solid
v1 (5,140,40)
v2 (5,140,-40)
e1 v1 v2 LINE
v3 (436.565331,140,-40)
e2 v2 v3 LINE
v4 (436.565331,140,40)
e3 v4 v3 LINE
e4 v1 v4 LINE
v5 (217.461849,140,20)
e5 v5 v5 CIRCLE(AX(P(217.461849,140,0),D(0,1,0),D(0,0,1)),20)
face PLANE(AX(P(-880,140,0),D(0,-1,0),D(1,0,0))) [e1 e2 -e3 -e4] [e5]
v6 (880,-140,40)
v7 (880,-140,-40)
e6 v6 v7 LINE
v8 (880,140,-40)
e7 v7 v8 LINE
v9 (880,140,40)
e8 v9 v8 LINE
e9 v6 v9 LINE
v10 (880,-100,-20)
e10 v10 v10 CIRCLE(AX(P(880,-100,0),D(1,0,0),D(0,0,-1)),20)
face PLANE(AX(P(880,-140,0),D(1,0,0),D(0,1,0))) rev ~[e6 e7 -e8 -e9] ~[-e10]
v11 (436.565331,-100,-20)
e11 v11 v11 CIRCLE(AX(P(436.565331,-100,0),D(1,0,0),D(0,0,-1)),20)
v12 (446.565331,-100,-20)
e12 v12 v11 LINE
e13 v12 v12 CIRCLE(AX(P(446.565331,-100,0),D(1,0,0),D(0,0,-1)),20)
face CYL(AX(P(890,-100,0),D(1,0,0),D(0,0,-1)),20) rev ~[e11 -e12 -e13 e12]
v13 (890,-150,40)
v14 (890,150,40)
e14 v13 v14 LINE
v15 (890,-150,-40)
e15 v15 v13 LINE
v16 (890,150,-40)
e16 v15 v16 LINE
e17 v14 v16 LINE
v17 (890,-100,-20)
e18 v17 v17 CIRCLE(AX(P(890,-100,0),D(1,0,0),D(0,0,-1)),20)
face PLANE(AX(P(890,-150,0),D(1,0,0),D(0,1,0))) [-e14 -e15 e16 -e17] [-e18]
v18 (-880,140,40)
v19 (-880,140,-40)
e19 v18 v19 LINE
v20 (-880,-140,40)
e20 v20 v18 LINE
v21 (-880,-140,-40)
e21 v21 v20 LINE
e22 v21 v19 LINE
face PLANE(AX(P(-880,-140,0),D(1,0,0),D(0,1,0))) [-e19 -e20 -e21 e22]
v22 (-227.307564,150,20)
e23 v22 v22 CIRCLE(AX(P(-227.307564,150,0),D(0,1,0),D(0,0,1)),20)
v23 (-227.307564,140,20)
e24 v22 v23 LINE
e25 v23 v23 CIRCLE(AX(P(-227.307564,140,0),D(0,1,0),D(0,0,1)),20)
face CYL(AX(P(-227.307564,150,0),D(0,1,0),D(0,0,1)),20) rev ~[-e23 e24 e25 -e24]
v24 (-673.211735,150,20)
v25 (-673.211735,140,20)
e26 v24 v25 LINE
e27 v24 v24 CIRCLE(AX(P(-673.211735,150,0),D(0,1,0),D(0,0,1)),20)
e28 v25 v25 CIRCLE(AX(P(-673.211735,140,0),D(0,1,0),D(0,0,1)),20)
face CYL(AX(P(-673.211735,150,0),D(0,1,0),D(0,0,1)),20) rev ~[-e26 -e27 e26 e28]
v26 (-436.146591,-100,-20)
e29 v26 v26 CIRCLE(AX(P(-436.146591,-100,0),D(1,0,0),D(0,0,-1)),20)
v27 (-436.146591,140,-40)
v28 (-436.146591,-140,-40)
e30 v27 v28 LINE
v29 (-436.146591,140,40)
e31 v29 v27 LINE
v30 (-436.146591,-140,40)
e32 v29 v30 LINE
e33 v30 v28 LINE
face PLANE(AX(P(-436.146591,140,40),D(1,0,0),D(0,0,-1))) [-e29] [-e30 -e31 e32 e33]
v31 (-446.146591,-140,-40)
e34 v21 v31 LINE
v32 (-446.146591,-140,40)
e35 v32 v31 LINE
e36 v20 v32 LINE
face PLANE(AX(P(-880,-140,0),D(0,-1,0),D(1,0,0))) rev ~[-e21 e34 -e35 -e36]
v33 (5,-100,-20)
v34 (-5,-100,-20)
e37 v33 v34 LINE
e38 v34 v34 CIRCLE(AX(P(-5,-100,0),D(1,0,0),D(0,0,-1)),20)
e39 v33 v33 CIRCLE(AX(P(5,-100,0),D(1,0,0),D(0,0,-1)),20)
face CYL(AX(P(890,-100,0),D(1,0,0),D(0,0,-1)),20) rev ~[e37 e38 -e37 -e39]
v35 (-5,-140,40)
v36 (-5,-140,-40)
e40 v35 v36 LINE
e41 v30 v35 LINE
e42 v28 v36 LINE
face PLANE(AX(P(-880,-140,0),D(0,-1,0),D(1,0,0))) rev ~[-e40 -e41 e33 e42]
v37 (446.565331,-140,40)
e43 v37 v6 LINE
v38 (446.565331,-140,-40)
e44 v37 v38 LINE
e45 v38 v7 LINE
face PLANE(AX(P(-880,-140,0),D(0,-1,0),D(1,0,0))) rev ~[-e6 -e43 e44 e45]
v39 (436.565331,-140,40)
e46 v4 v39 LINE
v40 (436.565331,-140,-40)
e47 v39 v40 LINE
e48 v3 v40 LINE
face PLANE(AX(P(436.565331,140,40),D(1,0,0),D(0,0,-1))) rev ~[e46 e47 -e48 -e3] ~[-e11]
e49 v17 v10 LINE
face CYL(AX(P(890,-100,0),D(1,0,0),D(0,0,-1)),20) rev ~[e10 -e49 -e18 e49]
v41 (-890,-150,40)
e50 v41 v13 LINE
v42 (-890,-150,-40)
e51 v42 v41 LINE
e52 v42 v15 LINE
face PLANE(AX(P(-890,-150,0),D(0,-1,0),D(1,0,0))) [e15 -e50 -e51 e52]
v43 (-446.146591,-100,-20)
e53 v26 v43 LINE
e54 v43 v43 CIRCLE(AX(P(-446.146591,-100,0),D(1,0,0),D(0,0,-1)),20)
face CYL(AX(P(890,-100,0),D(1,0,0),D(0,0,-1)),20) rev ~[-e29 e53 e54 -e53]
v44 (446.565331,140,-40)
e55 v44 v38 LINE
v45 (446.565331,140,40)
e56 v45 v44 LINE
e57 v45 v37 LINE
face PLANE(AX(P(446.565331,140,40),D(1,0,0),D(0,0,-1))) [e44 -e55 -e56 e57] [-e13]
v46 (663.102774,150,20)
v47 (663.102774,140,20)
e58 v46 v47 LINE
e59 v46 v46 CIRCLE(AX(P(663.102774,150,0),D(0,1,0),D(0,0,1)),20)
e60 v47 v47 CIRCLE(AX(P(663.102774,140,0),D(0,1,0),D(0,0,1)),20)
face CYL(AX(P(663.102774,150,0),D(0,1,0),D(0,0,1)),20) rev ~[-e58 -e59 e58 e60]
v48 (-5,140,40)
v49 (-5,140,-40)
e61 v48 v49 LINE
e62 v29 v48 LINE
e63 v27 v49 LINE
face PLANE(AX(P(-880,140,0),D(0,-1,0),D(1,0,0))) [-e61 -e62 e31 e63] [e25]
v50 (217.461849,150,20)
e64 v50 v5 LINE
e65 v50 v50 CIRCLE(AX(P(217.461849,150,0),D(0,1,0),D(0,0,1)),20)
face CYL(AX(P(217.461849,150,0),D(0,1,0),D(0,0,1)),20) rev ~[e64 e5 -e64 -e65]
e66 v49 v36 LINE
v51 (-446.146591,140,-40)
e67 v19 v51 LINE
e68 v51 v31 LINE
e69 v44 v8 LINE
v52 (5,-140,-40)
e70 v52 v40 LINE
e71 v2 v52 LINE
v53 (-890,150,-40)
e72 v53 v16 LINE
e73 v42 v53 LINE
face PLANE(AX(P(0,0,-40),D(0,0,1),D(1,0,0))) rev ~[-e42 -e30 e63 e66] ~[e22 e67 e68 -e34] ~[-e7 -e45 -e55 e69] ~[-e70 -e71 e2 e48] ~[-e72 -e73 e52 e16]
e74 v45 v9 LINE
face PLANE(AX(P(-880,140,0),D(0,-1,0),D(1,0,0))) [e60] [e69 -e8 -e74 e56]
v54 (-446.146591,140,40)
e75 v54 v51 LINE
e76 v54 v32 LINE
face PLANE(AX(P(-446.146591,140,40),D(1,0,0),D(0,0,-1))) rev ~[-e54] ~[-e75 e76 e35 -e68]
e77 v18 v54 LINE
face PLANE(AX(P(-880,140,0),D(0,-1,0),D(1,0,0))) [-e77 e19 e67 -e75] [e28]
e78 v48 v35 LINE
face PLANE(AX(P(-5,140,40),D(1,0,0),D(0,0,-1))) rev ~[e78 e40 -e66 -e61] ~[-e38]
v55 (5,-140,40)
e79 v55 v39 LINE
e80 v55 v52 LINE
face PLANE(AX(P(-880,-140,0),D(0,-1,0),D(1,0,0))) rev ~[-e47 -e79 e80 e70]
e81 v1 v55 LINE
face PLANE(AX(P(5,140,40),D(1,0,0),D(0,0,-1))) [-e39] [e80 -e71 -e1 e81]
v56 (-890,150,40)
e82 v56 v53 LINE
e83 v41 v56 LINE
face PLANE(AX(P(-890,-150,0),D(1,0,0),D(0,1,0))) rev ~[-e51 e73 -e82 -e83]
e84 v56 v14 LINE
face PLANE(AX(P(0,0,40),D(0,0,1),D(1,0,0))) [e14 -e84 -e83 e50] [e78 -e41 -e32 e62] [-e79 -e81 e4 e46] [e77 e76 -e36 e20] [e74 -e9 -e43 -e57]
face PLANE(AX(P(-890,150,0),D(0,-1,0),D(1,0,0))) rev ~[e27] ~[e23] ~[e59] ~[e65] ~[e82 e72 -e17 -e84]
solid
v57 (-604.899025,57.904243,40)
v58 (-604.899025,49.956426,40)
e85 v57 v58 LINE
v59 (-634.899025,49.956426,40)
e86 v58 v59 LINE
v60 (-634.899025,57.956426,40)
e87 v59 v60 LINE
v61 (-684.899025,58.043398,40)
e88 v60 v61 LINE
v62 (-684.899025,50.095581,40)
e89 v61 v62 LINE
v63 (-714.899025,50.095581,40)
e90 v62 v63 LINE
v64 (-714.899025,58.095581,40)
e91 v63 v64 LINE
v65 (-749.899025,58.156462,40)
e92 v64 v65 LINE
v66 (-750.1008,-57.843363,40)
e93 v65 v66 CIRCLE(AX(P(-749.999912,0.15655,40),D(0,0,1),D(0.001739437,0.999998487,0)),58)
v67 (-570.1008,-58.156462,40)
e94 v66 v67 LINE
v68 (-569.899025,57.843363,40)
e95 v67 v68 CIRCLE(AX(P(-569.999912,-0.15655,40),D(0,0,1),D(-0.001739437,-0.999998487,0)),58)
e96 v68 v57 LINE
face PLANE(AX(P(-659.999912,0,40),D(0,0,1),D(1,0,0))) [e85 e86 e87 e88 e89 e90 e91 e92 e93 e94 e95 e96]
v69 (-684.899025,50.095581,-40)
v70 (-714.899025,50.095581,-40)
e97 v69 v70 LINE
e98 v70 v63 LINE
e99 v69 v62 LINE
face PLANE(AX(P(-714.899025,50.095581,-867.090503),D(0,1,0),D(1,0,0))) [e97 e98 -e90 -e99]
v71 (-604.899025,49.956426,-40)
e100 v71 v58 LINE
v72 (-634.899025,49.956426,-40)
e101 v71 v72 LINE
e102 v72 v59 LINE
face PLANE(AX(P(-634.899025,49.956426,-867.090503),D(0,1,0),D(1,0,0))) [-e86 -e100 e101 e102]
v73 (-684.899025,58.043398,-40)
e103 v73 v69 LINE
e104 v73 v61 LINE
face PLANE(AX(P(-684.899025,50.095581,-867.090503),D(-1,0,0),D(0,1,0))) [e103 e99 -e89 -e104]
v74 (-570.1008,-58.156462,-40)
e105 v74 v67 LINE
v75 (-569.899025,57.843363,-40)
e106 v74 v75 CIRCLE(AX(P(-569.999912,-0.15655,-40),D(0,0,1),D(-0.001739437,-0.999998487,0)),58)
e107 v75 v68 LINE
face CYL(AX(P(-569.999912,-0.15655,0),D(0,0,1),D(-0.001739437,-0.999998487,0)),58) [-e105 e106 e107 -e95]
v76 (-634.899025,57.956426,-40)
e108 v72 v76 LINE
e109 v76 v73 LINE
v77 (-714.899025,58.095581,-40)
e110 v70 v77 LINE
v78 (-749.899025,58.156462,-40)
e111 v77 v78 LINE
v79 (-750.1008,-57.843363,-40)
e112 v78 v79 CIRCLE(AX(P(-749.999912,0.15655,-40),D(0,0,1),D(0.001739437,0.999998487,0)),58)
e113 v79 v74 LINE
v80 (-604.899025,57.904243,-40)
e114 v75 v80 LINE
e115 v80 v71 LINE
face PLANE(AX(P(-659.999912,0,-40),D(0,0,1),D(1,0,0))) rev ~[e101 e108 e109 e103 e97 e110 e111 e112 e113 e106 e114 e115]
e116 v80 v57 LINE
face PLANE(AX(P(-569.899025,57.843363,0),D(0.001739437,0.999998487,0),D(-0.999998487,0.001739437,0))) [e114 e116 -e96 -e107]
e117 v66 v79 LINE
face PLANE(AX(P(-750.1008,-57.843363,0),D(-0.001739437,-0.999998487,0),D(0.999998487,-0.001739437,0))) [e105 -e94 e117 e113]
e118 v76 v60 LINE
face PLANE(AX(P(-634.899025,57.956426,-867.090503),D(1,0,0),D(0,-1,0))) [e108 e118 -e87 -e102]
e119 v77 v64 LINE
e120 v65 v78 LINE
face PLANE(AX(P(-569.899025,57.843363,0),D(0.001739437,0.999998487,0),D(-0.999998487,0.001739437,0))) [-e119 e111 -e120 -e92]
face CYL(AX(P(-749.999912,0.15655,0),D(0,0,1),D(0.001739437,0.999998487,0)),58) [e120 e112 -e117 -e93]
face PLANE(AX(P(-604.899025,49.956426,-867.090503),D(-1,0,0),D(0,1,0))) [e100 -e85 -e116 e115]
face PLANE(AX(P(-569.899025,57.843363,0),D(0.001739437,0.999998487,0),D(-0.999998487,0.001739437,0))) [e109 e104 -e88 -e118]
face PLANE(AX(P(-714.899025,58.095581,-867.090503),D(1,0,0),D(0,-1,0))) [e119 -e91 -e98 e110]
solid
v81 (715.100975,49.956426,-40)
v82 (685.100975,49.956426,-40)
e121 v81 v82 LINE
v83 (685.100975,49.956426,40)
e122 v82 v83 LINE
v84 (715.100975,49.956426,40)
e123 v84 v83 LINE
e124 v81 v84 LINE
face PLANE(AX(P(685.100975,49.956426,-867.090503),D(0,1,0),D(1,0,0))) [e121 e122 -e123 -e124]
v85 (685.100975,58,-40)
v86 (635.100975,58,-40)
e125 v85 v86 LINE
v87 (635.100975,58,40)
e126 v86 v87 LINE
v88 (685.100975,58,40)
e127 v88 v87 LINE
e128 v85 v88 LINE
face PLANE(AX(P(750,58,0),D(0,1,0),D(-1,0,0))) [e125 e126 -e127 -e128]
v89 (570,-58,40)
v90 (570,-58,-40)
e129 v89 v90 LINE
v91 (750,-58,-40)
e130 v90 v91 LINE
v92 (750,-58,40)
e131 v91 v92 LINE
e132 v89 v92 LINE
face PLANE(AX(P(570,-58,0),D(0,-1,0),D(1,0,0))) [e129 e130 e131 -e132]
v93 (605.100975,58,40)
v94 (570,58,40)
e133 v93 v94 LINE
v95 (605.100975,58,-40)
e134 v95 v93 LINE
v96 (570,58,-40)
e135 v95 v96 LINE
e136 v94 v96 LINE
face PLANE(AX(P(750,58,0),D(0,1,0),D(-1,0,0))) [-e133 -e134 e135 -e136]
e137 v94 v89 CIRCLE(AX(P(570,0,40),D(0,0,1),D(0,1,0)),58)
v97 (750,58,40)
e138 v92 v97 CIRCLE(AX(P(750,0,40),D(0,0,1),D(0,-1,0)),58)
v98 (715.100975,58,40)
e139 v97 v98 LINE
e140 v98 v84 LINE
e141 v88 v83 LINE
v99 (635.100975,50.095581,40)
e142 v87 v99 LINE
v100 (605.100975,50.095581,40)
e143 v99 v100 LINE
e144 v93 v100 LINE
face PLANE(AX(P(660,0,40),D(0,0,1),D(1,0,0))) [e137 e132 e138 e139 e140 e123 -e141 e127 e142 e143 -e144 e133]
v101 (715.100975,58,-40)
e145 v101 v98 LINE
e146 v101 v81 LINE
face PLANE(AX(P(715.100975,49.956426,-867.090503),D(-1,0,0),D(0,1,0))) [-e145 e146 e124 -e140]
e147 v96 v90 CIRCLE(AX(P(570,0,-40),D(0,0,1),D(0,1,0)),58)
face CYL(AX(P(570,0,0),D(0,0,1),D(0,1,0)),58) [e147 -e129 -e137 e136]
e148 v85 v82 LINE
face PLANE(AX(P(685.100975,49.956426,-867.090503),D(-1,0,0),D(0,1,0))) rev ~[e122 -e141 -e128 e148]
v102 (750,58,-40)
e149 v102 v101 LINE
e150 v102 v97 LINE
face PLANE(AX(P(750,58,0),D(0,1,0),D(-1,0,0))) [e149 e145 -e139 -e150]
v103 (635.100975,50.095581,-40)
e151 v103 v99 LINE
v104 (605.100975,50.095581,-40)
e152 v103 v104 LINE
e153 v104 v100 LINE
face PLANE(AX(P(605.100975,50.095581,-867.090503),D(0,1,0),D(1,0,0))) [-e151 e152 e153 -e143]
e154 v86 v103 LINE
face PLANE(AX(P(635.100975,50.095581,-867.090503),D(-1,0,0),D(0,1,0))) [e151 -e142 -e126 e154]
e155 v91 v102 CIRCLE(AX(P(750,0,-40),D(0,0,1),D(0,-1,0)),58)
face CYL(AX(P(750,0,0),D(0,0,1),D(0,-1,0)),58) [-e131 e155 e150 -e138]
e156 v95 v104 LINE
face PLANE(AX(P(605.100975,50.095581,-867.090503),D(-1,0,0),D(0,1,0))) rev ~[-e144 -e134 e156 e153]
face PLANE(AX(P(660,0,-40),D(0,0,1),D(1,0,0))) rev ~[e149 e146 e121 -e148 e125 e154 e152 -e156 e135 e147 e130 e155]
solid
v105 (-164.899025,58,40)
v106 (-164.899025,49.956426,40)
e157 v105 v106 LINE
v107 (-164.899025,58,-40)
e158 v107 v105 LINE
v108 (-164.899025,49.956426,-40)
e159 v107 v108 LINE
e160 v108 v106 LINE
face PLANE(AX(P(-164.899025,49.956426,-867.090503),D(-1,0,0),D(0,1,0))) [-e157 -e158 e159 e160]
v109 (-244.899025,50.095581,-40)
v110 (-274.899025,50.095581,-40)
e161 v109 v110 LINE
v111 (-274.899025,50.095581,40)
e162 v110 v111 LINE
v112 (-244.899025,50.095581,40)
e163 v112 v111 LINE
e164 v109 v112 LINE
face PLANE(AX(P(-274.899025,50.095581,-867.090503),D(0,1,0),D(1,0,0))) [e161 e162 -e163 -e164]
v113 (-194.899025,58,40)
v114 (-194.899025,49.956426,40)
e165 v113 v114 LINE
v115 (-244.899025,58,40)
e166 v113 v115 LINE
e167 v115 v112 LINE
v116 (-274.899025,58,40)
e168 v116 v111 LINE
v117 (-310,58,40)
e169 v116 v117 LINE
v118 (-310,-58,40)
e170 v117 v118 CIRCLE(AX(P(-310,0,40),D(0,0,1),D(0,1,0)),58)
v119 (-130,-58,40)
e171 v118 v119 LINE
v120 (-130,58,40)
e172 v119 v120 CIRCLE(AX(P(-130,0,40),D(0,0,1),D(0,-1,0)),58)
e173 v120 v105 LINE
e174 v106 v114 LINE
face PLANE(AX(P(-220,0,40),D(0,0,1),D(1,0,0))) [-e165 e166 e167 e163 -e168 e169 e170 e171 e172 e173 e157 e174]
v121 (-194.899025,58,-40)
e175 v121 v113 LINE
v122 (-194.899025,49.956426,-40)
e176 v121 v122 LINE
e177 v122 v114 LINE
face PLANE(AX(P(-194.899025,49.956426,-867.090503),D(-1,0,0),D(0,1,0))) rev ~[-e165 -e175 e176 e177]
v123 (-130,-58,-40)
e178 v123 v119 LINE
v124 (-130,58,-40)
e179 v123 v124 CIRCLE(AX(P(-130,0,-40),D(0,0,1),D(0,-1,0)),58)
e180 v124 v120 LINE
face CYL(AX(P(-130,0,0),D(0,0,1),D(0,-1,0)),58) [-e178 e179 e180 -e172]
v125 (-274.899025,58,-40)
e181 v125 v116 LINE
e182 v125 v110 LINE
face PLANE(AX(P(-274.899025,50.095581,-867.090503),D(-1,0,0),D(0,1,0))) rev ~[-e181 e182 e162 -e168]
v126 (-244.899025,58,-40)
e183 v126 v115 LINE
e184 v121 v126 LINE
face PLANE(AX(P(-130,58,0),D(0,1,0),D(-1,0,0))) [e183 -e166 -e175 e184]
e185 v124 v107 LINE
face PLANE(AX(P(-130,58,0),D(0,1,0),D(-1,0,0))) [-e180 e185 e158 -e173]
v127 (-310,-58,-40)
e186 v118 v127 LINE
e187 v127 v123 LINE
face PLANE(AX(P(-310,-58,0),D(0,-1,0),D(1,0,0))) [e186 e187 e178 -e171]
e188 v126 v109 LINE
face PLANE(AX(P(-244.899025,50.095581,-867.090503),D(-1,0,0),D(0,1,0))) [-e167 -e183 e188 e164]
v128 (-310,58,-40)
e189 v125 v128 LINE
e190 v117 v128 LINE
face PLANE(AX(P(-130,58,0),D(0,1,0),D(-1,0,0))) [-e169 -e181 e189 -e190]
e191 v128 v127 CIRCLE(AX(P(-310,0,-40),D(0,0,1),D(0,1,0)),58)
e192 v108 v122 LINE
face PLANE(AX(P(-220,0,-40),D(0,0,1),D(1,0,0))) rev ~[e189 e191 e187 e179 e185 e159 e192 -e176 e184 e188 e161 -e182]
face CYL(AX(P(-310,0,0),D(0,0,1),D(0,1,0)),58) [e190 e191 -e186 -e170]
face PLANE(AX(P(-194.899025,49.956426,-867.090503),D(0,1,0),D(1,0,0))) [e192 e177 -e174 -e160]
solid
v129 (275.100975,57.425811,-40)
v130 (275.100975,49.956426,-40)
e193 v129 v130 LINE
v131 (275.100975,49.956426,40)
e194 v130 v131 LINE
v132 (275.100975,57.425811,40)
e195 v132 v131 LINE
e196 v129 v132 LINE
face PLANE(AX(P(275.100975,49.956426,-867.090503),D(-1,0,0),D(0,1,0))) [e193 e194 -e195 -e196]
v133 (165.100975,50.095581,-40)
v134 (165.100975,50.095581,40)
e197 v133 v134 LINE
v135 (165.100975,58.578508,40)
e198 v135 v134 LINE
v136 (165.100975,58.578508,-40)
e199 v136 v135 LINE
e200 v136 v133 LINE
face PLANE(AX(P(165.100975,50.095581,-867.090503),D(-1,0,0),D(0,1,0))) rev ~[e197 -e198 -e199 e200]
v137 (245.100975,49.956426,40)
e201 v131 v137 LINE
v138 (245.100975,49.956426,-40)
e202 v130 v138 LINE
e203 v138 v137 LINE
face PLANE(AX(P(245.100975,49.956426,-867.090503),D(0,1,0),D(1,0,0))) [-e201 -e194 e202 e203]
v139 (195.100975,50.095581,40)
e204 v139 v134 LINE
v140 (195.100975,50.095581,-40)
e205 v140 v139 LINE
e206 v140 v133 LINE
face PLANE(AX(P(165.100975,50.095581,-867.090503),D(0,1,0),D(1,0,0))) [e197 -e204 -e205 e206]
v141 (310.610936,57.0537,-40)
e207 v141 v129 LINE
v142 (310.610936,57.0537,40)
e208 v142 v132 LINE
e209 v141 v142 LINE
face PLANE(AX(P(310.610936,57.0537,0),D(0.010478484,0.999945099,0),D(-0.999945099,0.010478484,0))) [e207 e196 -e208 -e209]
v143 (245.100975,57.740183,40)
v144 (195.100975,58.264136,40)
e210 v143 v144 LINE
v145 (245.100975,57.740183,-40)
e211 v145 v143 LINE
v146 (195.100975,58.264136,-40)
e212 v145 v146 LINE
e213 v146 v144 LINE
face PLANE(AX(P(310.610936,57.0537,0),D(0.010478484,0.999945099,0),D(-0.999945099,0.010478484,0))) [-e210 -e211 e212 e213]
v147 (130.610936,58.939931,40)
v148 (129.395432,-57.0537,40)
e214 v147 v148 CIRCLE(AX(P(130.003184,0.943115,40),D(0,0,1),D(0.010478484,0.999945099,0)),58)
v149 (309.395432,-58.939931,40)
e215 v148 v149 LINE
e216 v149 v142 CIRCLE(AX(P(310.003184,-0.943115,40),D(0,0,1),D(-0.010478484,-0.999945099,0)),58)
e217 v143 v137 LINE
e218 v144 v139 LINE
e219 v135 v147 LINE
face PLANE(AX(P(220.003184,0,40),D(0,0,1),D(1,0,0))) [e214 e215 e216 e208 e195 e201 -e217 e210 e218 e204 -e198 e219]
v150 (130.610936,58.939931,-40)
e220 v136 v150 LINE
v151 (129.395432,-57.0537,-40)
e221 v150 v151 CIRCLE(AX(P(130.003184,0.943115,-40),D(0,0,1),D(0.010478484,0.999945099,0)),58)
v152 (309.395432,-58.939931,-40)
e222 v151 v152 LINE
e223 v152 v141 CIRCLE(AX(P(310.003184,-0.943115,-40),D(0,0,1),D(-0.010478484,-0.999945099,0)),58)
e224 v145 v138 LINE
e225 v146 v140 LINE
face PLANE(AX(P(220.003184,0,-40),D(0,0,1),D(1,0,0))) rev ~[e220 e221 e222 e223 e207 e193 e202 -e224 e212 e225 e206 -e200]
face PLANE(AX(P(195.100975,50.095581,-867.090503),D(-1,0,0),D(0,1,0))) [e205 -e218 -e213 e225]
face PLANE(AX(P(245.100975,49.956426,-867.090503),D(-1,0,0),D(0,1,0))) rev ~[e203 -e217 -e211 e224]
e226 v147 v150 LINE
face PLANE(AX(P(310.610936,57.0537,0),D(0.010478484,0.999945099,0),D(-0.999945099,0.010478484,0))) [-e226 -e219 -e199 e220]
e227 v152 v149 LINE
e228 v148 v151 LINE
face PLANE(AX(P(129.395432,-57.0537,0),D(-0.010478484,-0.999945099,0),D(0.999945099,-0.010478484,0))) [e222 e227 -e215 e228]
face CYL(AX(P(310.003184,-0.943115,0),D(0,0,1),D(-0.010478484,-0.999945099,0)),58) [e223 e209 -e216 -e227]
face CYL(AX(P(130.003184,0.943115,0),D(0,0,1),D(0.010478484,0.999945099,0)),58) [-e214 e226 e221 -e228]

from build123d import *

# Parameters (mm, degrees)
SKETCH1_W               = 1780
SKETCH1_H               = 300
SKETCH1_W_2             = 1760
SKETCH1_H_2             = 280
BOSS_EXTRUDE1_DEPTH     = 40
BOSS_EXTRUDE1_2_DEPTH   = 40
BOSS_EXTRUDE1_3_DEPTH   = 40
BOSS_EXTRUDE1_4_DEPTH   = 40
BOSS_EXTRUDE1_5_DEPTH   = 40
CUT_EXTRUDE1_DEPTH      = 907.090503206
CUT_EXTRUDE1_DEPTH_BACK = 907.090503206
SKETCH2_W               = 30
SKETCH2_H               = 9.489507293
SKETCH2_H_2             = 11.073503662
EXTRUDE_THIN1_START     = -10
SKETCH3_W               = 10
SKETCH3_H               = 80
EXTRUDE_THIN1_DEPTH     = 280
SKETCH4_R               = 20
CUT_EXTRUDE2_DEPTH      = 47
SKETCH6_R               = 20
CUT_EXTRUDE4_DEPTH      = 1437


with BuildPart() as part:
    # Sketch1 → Boss-Extrude1 (new, symmetric)
    with BuildSketch(Plane.XY):
        Rectangle(SKETCH1_W, SKETCH1_H)
        Rectangle(SKETCH1_W_2, SKETCH1_H_2, mode=Mode.SUBTRACT)
    extrude(amount=BOSS_EXTRUDE1_DEPTH, both=True)

    # Sketch3 → Extrude-Thin1 (add)
    with BuildSketch(Plane(origin=(0, 150, 0), x_dir=(1, 0, 0), z_dir=(0, 1, 0)).offset(EXTRUDE_THIN1_START)):
        with Locations((-441.146590851, 0)):
            Rectangle(SKETCH3_W, SKETCH3_H)
        Rectangle(SKETCH3_W, SKETCH3_H)
        with Locations((441.565331283, 0)):
            Rectangle(SKETCH3_W, SKETCH3_H)
    extrude(amount=-EXTRUDE_THIN1_DEPTH)

    # Sketch4 → Cut-Extrude2 (cut)
    with BuildSketch(Plane(origin=(0, 150, 0), x_dir=(1, 0, 0), z_dir=(0, 1, 0))):
        with Locations(Location((663.102774446, 0, 0), (0, 0, 270))):
            Circle(SKETCH4_R)
        with Locations(Location((217.461848741, 0, 0), (0, 0, 270))):
            Circle(SKETCH4_R)
        with Locations(Location((-227.307563803, 0, 0), (0, 0, 270))):
            Circle(SKETCH4_R)
        with Locations(Location((-673.211735279, 0, 0), (0, 0, 270))):
            Circle(SKETCH4_R)
    extrude(amount=-CUT_EXTRUDE2_DEPTH, mode=Mode.SUBTRACT)

    # Sketch6 → Cut-Extrude4 (cut)
    with BuildSketch(Plane(origin=(890, 0, 0), x_dir=(0, 0, -1), z_dir=(1, 0, 0))):
        with Locations((0, -100)):
            Circle(SKETCH6_R)
    extrude(amount=-CUT_EXTRUDE4_DEPTH, mode=Mode.SUBTRACT)


with BuildPart() as body_2:
    # Sketch1 → Boss-Extrude1 2 (new, symmetric)
    with BuildSketch(Plane.XY):
        with BuildLine():
            Line((-750.100799598, -57.843362697), (-570.100799598, -58.156461816))
            ThreePointArc((-570.100799598, -58.156461816), (-512, -0.257436901), (-569.899024915, 57.843362697))
            Line((-569.899024915, 57.843362697), (-749.899024915, 58.156461816))
            ThreePointArc((-749.899024915, 58.156461816), (-807.999824513, 0.257436901), (-750.100799598, -57.843362697))
        make_face()
    extrude(amount=BOSS_EXTRUDE1_2_DEPTH, both=True)


with BuildPart() as body_3:
    # Sketch1 → Boss-Extrude1 3 (new, symmetric)
    with BuildSketch(Plane.XY):
        with BuildLine():
            Line((-310, -58), (-130, -58))
            ThreePointArc((-130, -58), (-72, 0), (-130, 58))
            Line((-130, 58), (-310, 58))
            ThreePointArc((-310, 58), (-368, 0), (-310, -58))
        make_face()
    extrude(amount=BOSS_EXTRUDE1_3_DEPTH, both=True)


with BuildPart() as body_4:
    # Sketch1 → Boss-Extrude1 4 (new, symmetric)
    with BuildSketch(Plane.XY):
        with BuildLine():
            Line((129.395432185, -57.053700429), (309.395432185, -58.939931076))
            ThreePointArc((309.395432185, -58.939931076), (368, -1.550867386), (310.61093631, 57.053700429))
            Line((310.61093631, 57.053700429), (130.61093631, 58.939931076))
            ThreePointArc((130.61093631, 58.939931076), (72.006368495, 1.550867386), (129.395432185, -57.053700429))
        make_face()
    extrude(amount=BOSS_EXTRUDE1_4_DEPTH, both=True)


with BuildPart() as body_5:
    # Sketch1 → Boss-Extrude1 5 (new, symmetric)
    with BuildSketch(Plane.XY):
        with BuildLine():
            Line((570, -58), (750, -58))
            ThreePointArc((750, -58), (808, 0), (750, 58))
            Line((750, 58), (570, 58))
            ThreePointArc((570, 58), (512, 0), (570, -58))
        make_face()
    extrude(amount=BOSS_EXTRUDE1_5_DEPTH, both=True)


with BuildPart() as cut_extrude1_tool:
    # Sketch2 → Cut-Extrude1 (new, two sides: drawn at the far end of the back side and taken through both)
    with BuildSketch(Plane.XY.offset(40).offset(-CUT_EXTRUDE1_DEPTH_BACK)):
        Polygon((-684.899024915, 58.043398245), (-714.899024915, 58.095581432), (-714.899024915, 50.095581432), (-684.899024915, 50.095581432), align=None)
        Polygon((-604.899024915, 57.904243081), (-634.899024915, 57.956426268), (-634.899024915, 49.956426268), (-604.899024915, 49.956426268), align=None)
        with Locations((-179.899024915, 54.701179915)):
            Rectangle(SKETCH2_W, SKETCH2_H)
        with Locations((-259.899024915, 55.632333263)):
            Rectangle(SKETCH2_W, SKETCH2_H_2)
        with Locations((180.100975085, 55.632333263)):
            Rectangle(SKETCH2_W, SKETCH2_H_2)
        with Locations((260.100975085, 54.701179915)):
            Rectangle(SKETCH2_W, SKETCH2_H)
        with Locations((700.100975085, 54.701179915)):
            Rectangle(SKETCH2_W, SKETCH2_H)
        with Locations((620.100975085, 55.632333263)):
            Rectangle(SKETCH2_W, SKETCH2_H_2)
    extrude(amount=CUT_EXTRUDE1_DEPTH + CUT_EXTRUDE1_DEPTH_BACK)


with BuildPart() as body_2_1:
    add(body_2.part)

    # Cut-Extrude1: cut by cut_extrude1_tool
    add(cut_extrude1_tool.part, mode=Mode.SUBTRACT)


with BuildPart() as body_3_1:
    add(body_3.part)

    # Cut-Extrude1: cut by cut_extrude1_tool
    add(cut_extrude1_tool.part, mode=Mode.SUBTRACT)


with BuildPart() as body_4_1:
    add(body_4.part)

    # Cut-Extrude1: cut by cut_extrude1_tool
    add(cut_extrude1_tool.part, mode=Mode.SUBTRACT)


with BuildPart() as body_5_1:
    add(body_5.part)

    # Cut-Extrude1: cut by cut_extrude1_tool
    add(cut_extrude1_tool.part, mode=Mode.SUBTRACT)


solid = Compound([part.part, body_2_1.part, body_3_1.part, body_4_1.part, body_5_1.part])
